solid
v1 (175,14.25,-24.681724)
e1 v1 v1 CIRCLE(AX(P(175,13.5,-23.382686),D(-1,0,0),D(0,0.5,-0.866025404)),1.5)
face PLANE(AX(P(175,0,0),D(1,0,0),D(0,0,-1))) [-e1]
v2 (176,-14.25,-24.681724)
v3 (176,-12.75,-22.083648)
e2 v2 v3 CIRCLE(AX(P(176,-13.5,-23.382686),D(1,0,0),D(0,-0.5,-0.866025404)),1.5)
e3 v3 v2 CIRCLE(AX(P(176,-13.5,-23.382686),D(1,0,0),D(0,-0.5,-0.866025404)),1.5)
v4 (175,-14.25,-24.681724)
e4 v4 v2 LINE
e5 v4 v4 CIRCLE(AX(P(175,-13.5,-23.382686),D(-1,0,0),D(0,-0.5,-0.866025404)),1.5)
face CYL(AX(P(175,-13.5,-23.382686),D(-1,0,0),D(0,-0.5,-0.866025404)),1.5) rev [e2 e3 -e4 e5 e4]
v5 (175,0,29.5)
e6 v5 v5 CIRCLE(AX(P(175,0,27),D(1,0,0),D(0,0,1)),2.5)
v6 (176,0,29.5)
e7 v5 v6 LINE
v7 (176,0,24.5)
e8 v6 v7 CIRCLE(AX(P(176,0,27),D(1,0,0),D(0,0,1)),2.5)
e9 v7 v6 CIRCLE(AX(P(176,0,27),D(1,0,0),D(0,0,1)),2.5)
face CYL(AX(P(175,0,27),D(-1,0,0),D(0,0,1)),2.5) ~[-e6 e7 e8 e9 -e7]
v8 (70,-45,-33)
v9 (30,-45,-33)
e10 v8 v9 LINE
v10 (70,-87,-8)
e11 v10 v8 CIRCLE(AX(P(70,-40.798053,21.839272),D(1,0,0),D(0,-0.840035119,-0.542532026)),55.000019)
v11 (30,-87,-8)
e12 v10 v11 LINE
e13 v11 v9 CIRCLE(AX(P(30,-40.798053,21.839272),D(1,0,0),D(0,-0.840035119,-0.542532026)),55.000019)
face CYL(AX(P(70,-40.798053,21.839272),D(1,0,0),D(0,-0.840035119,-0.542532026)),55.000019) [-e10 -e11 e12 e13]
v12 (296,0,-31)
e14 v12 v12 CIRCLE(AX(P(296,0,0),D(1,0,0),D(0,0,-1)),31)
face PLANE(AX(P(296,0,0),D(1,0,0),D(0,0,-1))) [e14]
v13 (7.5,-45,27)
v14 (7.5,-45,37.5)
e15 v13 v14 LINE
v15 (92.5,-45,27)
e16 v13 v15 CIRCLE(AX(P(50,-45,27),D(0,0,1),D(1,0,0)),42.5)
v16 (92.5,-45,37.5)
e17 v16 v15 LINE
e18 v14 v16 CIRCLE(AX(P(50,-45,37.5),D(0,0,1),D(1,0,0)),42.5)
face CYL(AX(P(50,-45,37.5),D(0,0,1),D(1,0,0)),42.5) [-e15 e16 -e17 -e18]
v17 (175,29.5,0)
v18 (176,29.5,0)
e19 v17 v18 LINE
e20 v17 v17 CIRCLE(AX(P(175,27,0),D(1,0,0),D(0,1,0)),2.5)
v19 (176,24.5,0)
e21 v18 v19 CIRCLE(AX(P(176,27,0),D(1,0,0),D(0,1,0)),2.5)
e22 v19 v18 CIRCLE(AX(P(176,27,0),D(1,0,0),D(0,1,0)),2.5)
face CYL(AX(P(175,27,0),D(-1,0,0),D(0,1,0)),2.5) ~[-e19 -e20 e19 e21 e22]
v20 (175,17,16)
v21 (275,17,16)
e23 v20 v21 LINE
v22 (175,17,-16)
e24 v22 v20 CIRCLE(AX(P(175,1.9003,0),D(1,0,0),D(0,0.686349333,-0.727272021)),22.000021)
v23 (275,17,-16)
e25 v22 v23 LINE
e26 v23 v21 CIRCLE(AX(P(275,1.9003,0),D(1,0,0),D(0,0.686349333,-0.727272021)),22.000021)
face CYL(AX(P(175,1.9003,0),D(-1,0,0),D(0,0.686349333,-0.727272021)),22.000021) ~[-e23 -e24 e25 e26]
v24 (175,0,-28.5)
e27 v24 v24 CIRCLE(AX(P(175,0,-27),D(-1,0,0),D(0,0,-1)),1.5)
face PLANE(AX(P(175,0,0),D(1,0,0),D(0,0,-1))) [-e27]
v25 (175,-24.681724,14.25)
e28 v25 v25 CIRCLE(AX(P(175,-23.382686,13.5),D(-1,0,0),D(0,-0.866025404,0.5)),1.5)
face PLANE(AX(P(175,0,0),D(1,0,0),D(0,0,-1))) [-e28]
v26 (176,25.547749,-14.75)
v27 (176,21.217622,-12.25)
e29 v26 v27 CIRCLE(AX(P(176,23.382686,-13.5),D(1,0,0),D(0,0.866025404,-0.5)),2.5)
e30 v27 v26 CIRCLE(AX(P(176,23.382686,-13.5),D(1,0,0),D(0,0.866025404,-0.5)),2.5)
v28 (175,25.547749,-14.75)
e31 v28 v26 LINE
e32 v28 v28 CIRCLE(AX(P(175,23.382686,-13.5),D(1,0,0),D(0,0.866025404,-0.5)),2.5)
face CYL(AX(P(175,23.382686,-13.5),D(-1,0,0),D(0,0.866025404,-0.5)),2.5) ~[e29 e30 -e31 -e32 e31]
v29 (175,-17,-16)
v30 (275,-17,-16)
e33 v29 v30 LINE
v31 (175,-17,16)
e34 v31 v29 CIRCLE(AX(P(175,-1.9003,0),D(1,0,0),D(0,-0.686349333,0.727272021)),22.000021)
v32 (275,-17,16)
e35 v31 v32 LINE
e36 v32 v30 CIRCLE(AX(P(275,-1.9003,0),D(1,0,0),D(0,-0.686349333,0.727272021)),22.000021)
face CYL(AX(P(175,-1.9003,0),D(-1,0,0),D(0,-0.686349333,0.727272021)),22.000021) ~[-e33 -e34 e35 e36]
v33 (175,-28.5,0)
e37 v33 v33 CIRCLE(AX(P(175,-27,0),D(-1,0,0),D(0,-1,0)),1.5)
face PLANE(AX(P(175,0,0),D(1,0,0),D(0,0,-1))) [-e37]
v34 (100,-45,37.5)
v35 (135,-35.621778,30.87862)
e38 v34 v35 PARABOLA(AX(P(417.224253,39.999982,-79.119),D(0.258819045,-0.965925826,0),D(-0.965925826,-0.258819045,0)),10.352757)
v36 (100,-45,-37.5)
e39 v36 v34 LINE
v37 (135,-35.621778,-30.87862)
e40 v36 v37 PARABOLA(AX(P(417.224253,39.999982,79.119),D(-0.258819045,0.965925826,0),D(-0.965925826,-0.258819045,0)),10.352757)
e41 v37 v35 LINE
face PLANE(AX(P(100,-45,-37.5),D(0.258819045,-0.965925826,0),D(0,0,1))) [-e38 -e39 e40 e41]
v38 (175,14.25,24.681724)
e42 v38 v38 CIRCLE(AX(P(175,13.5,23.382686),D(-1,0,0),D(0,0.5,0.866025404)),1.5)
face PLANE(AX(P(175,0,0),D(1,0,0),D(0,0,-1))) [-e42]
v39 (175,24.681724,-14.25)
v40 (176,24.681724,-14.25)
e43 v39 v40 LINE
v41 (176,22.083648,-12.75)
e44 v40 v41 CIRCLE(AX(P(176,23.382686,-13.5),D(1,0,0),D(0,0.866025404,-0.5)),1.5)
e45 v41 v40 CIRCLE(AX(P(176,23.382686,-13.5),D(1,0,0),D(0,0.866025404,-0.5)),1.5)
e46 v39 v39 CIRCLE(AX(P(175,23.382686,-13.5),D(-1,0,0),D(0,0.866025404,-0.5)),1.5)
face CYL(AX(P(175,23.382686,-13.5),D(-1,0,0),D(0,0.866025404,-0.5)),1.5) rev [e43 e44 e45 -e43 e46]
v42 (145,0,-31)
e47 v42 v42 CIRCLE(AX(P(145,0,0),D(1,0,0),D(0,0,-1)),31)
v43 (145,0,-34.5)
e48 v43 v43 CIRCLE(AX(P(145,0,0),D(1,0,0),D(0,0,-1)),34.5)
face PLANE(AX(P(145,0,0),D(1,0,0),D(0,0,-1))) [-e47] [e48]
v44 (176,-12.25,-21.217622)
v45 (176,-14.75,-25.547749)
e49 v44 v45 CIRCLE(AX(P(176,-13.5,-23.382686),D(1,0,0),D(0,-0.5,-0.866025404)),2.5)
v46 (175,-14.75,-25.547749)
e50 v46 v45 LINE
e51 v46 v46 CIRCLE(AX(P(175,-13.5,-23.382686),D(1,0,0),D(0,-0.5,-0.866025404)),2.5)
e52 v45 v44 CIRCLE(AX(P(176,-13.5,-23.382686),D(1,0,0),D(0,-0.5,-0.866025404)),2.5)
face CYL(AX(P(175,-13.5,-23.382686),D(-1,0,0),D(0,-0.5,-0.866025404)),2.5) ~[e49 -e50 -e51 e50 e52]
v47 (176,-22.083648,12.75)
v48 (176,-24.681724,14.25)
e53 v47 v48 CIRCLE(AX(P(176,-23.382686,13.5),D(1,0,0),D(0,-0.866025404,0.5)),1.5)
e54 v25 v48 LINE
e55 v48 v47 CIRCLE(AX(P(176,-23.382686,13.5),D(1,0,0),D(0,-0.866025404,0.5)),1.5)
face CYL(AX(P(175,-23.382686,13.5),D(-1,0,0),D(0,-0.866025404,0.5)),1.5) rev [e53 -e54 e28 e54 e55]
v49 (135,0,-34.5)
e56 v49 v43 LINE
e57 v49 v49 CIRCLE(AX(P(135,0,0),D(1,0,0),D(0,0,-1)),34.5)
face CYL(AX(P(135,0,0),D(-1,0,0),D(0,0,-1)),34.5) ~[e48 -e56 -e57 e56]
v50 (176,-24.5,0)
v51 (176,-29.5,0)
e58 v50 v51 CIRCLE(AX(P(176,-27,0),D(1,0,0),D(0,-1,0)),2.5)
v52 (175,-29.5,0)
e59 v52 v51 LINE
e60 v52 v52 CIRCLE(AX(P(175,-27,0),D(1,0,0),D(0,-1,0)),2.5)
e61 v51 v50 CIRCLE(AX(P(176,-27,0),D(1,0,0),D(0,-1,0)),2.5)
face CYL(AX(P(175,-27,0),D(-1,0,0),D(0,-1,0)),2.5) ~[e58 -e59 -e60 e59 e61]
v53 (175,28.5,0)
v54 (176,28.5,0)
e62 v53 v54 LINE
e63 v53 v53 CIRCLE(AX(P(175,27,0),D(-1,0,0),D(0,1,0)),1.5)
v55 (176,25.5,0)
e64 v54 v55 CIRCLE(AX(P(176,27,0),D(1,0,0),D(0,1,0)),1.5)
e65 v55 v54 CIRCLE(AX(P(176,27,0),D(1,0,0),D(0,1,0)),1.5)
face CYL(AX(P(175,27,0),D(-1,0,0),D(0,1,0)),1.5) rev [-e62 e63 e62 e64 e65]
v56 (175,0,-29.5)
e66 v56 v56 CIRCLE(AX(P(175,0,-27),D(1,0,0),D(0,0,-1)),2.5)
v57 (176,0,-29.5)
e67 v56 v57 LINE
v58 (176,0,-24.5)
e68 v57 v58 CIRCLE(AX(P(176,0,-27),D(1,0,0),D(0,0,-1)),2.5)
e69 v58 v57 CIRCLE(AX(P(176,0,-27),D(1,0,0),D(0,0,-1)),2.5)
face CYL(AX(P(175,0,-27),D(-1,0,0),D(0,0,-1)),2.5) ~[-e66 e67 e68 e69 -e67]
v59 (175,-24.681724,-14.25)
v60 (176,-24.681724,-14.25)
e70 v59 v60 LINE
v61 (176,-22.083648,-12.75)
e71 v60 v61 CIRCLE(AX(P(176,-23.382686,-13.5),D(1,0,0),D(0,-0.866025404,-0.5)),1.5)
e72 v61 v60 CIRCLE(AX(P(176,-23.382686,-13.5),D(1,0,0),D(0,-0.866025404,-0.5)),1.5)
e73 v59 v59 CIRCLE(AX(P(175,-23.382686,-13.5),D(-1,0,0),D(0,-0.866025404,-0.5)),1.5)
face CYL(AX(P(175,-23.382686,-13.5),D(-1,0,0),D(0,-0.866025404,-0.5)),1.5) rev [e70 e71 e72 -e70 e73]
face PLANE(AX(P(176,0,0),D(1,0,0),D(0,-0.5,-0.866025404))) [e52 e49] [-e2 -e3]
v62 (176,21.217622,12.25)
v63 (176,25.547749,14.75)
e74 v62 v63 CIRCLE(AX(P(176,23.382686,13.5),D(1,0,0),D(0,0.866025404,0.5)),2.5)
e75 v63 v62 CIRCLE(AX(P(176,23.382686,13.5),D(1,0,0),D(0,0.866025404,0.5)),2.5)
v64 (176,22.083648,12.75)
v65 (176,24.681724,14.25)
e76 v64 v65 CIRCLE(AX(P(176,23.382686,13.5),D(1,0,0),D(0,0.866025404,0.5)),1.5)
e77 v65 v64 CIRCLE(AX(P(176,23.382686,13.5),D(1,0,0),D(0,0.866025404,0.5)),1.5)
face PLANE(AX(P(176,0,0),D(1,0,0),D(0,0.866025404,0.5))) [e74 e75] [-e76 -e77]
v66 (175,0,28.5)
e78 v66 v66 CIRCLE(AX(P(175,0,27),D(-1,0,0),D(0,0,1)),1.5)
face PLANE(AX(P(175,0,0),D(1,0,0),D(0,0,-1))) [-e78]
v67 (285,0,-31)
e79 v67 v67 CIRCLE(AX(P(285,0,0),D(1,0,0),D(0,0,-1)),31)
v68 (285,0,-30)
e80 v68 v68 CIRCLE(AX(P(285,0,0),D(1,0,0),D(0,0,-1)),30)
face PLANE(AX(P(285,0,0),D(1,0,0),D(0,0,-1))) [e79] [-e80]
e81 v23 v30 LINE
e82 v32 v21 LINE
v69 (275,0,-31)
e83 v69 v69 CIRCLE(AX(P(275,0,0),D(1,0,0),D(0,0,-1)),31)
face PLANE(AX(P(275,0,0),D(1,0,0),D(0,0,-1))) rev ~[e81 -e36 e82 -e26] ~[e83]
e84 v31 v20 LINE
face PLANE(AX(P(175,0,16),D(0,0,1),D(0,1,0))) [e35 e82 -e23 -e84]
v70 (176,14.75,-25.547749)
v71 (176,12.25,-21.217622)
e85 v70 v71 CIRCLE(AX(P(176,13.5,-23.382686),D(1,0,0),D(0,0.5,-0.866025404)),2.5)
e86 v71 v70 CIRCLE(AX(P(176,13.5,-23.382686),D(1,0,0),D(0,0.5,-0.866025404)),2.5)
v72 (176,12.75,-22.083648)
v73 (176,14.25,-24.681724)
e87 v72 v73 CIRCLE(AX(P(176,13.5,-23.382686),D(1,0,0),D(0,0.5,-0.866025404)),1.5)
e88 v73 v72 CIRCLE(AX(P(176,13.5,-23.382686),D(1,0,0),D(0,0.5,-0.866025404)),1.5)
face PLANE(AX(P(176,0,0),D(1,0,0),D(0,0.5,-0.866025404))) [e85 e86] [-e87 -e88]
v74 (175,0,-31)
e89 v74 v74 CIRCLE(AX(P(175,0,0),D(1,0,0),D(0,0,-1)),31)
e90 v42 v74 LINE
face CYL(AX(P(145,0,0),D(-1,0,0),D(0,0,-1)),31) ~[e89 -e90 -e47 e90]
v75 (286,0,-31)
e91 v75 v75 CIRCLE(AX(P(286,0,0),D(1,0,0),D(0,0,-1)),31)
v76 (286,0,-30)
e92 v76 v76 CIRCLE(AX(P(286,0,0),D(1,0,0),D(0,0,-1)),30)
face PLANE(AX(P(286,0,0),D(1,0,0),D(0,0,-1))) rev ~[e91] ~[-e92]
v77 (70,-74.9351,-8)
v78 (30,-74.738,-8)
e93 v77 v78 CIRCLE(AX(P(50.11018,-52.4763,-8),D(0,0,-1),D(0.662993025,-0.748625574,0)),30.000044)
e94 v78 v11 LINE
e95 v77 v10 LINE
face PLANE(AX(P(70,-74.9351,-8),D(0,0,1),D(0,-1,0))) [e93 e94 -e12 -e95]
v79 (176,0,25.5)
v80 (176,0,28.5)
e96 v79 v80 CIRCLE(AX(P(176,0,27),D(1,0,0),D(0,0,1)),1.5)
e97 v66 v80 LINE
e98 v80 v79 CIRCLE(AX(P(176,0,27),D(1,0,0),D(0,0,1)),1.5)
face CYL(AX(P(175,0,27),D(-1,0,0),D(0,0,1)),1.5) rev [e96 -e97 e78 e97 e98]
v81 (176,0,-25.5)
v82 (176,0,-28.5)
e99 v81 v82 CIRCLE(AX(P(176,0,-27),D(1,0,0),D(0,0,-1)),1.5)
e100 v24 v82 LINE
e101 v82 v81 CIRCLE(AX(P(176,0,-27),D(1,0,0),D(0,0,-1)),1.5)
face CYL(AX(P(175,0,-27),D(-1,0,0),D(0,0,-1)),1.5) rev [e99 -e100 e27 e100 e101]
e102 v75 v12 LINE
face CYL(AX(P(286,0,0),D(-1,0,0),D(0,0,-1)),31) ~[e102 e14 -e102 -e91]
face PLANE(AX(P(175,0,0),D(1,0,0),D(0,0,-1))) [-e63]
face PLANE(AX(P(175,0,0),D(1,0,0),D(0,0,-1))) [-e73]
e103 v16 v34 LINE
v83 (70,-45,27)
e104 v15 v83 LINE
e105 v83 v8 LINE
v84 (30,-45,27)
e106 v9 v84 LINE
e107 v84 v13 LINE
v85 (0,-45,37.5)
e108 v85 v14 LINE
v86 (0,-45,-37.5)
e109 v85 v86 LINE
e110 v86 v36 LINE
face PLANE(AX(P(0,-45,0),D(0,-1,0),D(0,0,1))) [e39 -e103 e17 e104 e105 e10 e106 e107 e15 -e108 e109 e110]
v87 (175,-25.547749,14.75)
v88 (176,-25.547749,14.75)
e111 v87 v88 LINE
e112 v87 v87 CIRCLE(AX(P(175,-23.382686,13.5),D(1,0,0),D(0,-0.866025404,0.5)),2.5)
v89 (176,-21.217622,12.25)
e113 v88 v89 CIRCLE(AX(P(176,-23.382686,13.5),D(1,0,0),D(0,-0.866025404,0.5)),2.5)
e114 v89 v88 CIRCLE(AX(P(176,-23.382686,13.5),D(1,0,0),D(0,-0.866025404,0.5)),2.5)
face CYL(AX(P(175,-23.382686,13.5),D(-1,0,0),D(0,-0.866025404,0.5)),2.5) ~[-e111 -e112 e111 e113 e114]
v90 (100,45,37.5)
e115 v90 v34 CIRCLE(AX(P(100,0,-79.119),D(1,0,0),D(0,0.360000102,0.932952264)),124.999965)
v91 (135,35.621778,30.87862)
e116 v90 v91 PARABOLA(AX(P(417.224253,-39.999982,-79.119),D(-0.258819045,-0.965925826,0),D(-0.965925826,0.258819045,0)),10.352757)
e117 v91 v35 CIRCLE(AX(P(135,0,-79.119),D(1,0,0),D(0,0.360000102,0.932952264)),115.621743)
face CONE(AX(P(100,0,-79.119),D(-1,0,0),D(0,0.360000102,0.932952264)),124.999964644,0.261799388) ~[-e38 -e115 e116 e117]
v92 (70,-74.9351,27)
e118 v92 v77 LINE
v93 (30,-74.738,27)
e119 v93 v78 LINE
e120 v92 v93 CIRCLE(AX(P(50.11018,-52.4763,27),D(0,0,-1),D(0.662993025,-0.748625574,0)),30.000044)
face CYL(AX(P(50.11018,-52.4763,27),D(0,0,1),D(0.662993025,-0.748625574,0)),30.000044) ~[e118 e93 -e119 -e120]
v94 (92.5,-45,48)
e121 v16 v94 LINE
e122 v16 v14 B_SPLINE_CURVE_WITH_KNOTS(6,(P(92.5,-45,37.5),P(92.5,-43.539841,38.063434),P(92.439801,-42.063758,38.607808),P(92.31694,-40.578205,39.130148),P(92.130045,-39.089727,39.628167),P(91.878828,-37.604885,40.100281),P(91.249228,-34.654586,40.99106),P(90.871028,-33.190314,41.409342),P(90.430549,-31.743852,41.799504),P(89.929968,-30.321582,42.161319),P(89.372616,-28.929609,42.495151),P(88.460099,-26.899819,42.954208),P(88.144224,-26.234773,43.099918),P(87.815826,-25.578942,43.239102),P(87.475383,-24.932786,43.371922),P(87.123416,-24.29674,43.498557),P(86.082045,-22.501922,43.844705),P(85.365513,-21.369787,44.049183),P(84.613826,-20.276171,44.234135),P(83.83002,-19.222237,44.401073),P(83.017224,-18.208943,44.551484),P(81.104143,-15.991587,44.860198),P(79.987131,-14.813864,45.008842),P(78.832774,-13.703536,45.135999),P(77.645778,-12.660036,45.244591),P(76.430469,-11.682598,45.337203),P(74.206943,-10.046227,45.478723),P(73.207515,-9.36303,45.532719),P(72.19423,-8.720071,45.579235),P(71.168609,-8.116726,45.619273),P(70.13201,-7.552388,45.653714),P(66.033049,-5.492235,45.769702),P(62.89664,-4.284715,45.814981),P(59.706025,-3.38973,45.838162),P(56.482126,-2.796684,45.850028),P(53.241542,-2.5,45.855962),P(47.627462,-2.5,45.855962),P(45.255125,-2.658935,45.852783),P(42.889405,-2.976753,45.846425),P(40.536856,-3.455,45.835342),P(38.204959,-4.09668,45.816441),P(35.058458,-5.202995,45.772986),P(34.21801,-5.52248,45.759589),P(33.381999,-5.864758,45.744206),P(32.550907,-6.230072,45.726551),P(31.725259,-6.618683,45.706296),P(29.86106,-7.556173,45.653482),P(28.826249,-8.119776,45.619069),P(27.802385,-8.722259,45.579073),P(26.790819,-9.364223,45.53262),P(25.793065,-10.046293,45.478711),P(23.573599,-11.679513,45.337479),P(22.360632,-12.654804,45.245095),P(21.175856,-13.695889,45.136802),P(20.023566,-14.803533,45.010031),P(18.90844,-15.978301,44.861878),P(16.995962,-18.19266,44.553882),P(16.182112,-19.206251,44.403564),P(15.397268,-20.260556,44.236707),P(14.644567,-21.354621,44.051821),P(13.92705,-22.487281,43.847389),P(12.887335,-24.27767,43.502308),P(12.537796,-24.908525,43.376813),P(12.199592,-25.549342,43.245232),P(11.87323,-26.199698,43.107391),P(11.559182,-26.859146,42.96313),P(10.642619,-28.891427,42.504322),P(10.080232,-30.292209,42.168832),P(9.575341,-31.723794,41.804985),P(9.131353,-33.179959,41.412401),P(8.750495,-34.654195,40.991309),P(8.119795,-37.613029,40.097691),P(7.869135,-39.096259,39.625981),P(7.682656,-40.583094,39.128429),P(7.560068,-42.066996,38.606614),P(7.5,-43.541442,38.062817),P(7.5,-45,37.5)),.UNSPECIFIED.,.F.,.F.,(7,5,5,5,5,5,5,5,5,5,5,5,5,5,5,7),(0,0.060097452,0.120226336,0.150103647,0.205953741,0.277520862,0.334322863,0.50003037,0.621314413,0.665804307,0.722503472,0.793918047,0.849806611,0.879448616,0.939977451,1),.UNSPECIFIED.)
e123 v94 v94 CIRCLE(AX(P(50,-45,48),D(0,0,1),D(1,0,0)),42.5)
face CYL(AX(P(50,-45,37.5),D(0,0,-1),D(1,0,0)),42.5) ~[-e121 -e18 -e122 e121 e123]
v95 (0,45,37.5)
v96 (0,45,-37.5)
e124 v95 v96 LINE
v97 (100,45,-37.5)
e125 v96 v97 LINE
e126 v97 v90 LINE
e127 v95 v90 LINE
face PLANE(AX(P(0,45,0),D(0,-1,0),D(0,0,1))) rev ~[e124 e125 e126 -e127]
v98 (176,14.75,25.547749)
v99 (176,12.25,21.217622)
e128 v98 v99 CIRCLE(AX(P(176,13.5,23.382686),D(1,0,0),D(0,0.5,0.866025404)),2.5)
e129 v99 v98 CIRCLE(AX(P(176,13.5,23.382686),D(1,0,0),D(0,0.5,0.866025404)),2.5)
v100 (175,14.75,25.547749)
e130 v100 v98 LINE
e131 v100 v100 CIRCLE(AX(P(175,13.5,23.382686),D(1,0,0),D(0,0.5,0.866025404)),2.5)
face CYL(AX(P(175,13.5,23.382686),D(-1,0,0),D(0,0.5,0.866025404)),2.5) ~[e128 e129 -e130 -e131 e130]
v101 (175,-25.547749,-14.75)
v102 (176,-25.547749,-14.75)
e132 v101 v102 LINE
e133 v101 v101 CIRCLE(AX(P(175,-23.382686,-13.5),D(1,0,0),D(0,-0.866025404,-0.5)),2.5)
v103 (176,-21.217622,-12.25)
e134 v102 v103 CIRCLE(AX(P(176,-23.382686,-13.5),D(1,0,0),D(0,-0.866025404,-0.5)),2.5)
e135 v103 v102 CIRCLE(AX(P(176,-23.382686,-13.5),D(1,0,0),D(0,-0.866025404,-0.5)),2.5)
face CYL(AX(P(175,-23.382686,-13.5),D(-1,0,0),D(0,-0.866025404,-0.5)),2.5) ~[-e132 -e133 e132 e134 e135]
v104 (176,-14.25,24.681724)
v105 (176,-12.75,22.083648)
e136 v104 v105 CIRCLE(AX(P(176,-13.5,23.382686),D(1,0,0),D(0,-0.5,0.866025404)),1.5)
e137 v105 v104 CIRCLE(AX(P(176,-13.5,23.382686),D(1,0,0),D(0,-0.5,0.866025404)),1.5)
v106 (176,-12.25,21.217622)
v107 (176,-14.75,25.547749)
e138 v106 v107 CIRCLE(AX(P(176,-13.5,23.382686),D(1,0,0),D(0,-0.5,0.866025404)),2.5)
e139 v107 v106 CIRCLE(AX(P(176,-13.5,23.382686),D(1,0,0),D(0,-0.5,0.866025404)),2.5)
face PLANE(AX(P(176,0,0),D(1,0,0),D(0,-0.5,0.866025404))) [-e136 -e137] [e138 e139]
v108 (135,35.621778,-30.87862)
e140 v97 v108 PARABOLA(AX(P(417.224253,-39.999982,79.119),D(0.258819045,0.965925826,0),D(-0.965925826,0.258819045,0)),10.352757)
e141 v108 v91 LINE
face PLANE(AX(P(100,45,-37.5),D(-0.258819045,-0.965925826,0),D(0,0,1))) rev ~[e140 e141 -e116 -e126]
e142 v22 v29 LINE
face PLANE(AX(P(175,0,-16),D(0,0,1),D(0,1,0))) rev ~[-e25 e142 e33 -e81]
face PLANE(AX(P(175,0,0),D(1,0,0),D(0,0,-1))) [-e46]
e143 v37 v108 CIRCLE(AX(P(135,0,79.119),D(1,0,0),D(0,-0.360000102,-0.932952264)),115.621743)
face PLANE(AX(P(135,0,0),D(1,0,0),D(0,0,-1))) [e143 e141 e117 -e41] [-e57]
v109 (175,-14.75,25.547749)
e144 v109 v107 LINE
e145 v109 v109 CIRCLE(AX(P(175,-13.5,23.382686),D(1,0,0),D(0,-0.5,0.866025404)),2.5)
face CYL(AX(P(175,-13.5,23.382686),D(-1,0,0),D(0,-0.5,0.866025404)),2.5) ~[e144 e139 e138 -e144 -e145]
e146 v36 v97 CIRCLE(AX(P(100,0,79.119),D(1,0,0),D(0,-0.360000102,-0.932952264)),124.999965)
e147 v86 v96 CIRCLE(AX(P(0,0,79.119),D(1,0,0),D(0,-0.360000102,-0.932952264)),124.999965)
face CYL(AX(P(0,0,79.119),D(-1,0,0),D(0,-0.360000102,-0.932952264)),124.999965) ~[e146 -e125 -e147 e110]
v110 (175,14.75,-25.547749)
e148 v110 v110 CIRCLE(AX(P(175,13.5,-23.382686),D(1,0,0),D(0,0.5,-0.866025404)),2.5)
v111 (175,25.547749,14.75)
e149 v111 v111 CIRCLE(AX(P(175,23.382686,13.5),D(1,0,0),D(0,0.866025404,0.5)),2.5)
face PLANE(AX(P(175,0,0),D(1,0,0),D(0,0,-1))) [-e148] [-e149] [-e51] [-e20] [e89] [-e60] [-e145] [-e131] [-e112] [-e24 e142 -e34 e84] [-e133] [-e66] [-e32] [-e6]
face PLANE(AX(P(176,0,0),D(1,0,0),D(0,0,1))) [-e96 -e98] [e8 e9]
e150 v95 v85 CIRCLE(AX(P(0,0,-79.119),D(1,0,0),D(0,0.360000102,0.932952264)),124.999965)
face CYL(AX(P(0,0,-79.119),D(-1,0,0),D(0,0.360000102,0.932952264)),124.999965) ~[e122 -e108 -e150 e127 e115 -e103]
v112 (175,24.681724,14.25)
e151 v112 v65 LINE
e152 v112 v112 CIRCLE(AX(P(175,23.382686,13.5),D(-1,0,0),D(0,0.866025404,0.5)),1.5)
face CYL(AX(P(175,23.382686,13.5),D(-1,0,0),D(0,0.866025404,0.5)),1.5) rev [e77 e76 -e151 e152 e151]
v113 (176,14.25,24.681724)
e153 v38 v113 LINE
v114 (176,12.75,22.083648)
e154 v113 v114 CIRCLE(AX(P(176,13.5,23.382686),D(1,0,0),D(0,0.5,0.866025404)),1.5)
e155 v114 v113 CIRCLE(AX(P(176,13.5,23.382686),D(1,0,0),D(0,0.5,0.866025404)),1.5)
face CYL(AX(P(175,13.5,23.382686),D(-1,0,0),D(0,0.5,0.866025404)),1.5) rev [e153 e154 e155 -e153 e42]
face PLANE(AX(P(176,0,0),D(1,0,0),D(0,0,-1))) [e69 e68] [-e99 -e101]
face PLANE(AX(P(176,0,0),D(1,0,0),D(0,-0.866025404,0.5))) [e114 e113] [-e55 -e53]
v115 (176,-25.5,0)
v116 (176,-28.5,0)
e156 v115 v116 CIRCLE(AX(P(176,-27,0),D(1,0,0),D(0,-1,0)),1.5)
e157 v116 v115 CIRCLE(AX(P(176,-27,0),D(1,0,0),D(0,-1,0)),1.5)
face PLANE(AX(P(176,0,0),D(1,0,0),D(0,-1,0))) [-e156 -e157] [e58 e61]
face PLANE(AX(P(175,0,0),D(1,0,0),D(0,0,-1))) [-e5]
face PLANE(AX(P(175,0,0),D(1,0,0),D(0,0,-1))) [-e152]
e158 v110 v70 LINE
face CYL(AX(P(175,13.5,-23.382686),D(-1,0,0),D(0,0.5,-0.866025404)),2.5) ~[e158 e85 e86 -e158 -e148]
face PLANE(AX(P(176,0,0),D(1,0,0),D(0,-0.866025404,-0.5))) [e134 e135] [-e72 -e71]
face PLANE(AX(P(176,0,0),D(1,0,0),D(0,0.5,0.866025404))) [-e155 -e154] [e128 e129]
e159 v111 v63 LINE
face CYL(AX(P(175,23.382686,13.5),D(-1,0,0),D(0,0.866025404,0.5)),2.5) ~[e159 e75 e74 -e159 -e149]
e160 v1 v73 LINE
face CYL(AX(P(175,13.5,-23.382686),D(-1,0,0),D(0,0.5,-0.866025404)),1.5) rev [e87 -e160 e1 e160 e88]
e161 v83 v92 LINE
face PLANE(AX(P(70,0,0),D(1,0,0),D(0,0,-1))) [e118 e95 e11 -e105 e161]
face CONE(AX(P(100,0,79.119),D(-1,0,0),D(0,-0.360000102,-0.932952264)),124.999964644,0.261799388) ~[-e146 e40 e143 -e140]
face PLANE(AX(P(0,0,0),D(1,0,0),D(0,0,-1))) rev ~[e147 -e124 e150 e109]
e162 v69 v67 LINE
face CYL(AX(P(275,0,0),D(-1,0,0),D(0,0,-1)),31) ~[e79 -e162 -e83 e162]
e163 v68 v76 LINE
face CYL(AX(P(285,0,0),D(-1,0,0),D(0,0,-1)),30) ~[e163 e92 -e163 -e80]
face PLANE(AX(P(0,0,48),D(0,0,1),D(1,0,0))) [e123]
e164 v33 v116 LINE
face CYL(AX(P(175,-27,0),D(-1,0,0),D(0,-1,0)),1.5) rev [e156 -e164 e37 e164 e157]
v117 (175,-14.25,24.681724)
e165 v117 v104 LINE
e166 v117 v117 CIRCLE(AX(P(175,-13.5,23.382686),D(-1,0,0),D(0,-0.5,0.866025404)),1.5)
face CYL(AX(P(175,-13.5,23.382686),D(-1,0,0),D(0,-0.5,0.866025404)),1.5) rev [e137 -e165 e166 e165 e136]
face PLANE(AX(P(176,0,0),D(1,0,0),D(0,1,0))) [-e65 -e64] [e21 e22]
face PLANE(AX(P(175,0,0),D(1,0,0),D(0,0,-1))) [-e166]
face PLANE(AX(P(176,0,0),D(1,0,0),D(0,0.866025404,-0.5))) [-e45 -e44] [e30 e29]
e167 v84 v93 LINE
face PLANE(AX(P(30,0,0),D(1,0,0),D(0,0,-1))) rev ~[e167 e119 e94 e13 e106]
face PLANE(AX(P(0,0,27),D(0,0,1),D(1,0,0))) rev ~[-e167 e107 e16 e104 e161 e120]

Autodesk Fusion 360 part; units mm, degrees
sketch "Sketch1" plane through (0, 0, 0) normal (1, 0, 0) x (0, 0, -1)
  line L0 (0, 0) -> (0, 45)
  line L1 (0, 0) -> (0, -45)
  line L2 (0, 45) -> (37.5, 45)
  line L3 (0, 45) -> (-37.5, 45)
  line L4 (0, -45) -> (37.5, -45)
  line L5 (0, -45) -> (-37.5, -45)
  arc A0 (-37.5, 45) -> (-37.5, -45) centre (79.119, 0) ccw
  arc A1 (37.5, -45) -> (37.5, 45) centre (-79.119, 0) ccw
  dimension "d1" = 45
  dimension "d2" = 45
  dimension "d3" = 37.5
  dimension "d4" = 37.5
  dimension "d5" = 37.5
  dimension "d6" = 37.5
  dimension "d8" = 125
extrude "Extrude1" add sketch "Sketch1" along normal blind 100
extrude "Extrude2" add 1 faces at (100, -15.2642, -14.2806) along direction (1, 0, 0) blind 35 draft -15
sketch "Sketch2" plane through (135, 0, 0) normal (1, 0, 0) x (0, 0, -1)
  line L0 (-30.8786, -35.6218) -> (30.8786, -35.6218)
  arc A0 (30.8786, -35.6218) -> (30.8786, 35.6218) centre (-79.119, 0) ccw
  line L1 (30.8786, 35.6218) -> (-30.8786, 35.6218)
  arc A1 (-30.8786, 35.6218) -> (-30.8786, -35.6218) centre (79.119, 0) ccw
  circle A2 centre (0, 0) radius 34.5
  dimension "d13" = 69
extrude "Extrude3" add sketch "Sketch2" along normal blind 10 contours A2
sketch "Sketch3" plane through (145, 0, 0) normal (1, 0, 0) x (0, 0, -1)
  circle A0 centre (0, 0) radius 34.5
  circle A1 centre (0, 0) radius 31
  dimension "d16" = 62
extrude "Extrude4" add sketch "Sketch3" along normal blind 30 contours A1
sketch "Sketch4" plane through (175, 0, 0) normal (1, 0, 0) x (0, 0, -1)
  circle A0 centre (0, 0) radius 31
  line L0 (0, 0) -> (27, 0)
  circle A1 centre (27, 0) radius 2.5
  circle A2 centre (27, 0) radius 1.5
  dimension "d19" = 27
  dimension "d20" = 5
  dimension "d21" = -1
extrude "Extrude5" add sketch "Sketch4" along normal blind 1 contours A1
pattern_circular "C-Pattern1" count 12 over 360 about axis through (175, 0, 0) along (1, 0, 0) of "Extrude5"
sketch "Sketch5" plane through (175, 0, 0) normal (1, 0, 0) x (0, 0, -1)
  circle A0 centre (27, 0) radius 2.5
  circle A1 centre (0, 0) radius 31
  circle A2 centre (23.3827, 13.5) radius 2.5
  circle A3 centre (13.5, 23.3827) radius 2.5
  circle A4 centre (0, 27) radius 2.5
  circle A5 centre (-13.5, 23.3827) radius 2.5
  circle A6 centre (-23.3827, 13.5) radius 2.5
  circle A7 centre (-27, 0) radius 2.5
  circle A8 centre (-23.3827, -13.5) radius 2.5
  circle A9 centre (-13.5, -23.3827) radius 2.5
  circle A10 centre (0, -27) radius 2.5
  circle A11 centre (13.5, -23.3827) radius 2.5
  circle A12 centre (23.3827, -13.5) radius 2.5
  line L0 (0, 0) -> (16, 0)
  line L1 (16, 0) -> (16, 17)
  line L2 (16, 0) -> (16, -17)
  line L3 (0, 0) -> (0, -8.0593)
  line L4 (-16, 0) -> (-16, 17)
  line L5 (-16, 0) -> (-16, -17)
  arc A13 (16, 17) -> (-16, 17) centre (0, 1.9003) ccw
  arc A14 (-16, -17) -> (16, -17) centre (0, -1.9003) ccw
  dimension "d26" = 16
  dimension "d27" = 17
  dimension "d28" = 17
  dimension "d29" = 22
extrude "Extrude6" add sketch "Sketch5" along normal blind 100 contours L1 L2 L4 L5 A13 A14
sketch "Sketch6" plane through (275, 0, 0) normal (1, 0, 0) x (0, 0, -1)
  line L0 (-16, 17) -> (-16, -17)
  arc A0 (-16, -17) -> (16, -17) centre (0, -1.9003) ccw
  line L1 (16, -17) -> (16, 17)
  arc A1 (16, 17) -> (-16, 17) centre (0, 1.9003) ccw
  circle A2 centre (0, 0) radius 31
  circle A3 centre (0, 0) radius 30
  dimension "d32" = 62
  dimension "d35" = -1
extrude "Extrude7" add sketch "Sketch6" along normal blind 10 contours L0 A0 L1 A1 | A2 | A3
sketch "Sketch7" plane through (285, 0, 0) normal (1, 0, 0) x (0, 0, -1)
  circle A0 centre (0, 0) radius 31
  circle A1 centre (0, 0) radius 30
  dimension "d36" = -1
extrude "Extrude8" add sketch "Sketch7" along normal blind 1 contours A1
sketch "Sketch8" plane through (286, 0, 0) normal (1, 0, 0) x (0, 0, -1)
  circle A0 centre (0, 0) radius 30
  circle A1 centre (0, 0) radius 31
  dimension "d39" = 62
extrude "Extrude9" add sketch "Sketch8" along normal blind 10 contours A0 | A1
ref_plane "WorkPlane1" through (0, 45, 37.5) normal (0, 0, 1) x (1, 0, 0)
sketch "Sketch9" plane through (0, 0, 37.5) normal (0, 0, 1) x (1, 0, 0)
  circle A0 centre (50, -45) radius 42.5
  dimension "d43" = 85
extrude "Extrude10" add sketch "Sketch9" along normal mid plane 21
sketch "Sketch10" plane through (0, 0, 27) normal (0, 0, -1) x (-1, 0, 0)
  line L0 (-7.5, -45) -> (-92.5, -45)
  arc A0 (-92.5, -45) -> (-7.5, -45) centre (-50, -45) ccw
  line L1 (-50, -45) -> (-50, -75)
  line L2 (-70, -45) -> (-70, -74.9351)
  line L3 (-30, -45) -> (-30, -74.738)
  arc A1 (-70, -74.9351) -> (-30, -74.738) centre (-50.1102, -52.4763) ccw
  dimension "d46" = 30
  dimension "d47" = 20
  dimension "d48" = -20
  dimension "d49" = 30
extrude "Extrude11" add sketch "Sketch10" along normal blind 35 contours L0 L2 L3 A1
sketch "Sketch11" plane through (70, 0, 0) normal (1, 0, 0) x (0, 0, -1)
  line L0 (-27, -45) -> (-27, -74.9351)
  line L1 (-27, -74.9351) -> (8, -74.9351)
  line L2 (8, -74.9351) -> (8, -45)
  line L3 (8, -45) -> (-27, -45)
  line L4 (8, -45) -> (33, -45)
  arc A0 (8, -87) -> (33, -45) centre (-21.8393, -40.7981) ccw
  line L5 (8, -45) -> (8, -87)
  dimension "d52" = 25
  dimension "d54" = 55
extrude "Extrude12" add sketch "Sketch11" against normal blind 40 contours L2 L4 A0 L5
equation "d44 = ( 21 / 2 ) * 1 mm"
